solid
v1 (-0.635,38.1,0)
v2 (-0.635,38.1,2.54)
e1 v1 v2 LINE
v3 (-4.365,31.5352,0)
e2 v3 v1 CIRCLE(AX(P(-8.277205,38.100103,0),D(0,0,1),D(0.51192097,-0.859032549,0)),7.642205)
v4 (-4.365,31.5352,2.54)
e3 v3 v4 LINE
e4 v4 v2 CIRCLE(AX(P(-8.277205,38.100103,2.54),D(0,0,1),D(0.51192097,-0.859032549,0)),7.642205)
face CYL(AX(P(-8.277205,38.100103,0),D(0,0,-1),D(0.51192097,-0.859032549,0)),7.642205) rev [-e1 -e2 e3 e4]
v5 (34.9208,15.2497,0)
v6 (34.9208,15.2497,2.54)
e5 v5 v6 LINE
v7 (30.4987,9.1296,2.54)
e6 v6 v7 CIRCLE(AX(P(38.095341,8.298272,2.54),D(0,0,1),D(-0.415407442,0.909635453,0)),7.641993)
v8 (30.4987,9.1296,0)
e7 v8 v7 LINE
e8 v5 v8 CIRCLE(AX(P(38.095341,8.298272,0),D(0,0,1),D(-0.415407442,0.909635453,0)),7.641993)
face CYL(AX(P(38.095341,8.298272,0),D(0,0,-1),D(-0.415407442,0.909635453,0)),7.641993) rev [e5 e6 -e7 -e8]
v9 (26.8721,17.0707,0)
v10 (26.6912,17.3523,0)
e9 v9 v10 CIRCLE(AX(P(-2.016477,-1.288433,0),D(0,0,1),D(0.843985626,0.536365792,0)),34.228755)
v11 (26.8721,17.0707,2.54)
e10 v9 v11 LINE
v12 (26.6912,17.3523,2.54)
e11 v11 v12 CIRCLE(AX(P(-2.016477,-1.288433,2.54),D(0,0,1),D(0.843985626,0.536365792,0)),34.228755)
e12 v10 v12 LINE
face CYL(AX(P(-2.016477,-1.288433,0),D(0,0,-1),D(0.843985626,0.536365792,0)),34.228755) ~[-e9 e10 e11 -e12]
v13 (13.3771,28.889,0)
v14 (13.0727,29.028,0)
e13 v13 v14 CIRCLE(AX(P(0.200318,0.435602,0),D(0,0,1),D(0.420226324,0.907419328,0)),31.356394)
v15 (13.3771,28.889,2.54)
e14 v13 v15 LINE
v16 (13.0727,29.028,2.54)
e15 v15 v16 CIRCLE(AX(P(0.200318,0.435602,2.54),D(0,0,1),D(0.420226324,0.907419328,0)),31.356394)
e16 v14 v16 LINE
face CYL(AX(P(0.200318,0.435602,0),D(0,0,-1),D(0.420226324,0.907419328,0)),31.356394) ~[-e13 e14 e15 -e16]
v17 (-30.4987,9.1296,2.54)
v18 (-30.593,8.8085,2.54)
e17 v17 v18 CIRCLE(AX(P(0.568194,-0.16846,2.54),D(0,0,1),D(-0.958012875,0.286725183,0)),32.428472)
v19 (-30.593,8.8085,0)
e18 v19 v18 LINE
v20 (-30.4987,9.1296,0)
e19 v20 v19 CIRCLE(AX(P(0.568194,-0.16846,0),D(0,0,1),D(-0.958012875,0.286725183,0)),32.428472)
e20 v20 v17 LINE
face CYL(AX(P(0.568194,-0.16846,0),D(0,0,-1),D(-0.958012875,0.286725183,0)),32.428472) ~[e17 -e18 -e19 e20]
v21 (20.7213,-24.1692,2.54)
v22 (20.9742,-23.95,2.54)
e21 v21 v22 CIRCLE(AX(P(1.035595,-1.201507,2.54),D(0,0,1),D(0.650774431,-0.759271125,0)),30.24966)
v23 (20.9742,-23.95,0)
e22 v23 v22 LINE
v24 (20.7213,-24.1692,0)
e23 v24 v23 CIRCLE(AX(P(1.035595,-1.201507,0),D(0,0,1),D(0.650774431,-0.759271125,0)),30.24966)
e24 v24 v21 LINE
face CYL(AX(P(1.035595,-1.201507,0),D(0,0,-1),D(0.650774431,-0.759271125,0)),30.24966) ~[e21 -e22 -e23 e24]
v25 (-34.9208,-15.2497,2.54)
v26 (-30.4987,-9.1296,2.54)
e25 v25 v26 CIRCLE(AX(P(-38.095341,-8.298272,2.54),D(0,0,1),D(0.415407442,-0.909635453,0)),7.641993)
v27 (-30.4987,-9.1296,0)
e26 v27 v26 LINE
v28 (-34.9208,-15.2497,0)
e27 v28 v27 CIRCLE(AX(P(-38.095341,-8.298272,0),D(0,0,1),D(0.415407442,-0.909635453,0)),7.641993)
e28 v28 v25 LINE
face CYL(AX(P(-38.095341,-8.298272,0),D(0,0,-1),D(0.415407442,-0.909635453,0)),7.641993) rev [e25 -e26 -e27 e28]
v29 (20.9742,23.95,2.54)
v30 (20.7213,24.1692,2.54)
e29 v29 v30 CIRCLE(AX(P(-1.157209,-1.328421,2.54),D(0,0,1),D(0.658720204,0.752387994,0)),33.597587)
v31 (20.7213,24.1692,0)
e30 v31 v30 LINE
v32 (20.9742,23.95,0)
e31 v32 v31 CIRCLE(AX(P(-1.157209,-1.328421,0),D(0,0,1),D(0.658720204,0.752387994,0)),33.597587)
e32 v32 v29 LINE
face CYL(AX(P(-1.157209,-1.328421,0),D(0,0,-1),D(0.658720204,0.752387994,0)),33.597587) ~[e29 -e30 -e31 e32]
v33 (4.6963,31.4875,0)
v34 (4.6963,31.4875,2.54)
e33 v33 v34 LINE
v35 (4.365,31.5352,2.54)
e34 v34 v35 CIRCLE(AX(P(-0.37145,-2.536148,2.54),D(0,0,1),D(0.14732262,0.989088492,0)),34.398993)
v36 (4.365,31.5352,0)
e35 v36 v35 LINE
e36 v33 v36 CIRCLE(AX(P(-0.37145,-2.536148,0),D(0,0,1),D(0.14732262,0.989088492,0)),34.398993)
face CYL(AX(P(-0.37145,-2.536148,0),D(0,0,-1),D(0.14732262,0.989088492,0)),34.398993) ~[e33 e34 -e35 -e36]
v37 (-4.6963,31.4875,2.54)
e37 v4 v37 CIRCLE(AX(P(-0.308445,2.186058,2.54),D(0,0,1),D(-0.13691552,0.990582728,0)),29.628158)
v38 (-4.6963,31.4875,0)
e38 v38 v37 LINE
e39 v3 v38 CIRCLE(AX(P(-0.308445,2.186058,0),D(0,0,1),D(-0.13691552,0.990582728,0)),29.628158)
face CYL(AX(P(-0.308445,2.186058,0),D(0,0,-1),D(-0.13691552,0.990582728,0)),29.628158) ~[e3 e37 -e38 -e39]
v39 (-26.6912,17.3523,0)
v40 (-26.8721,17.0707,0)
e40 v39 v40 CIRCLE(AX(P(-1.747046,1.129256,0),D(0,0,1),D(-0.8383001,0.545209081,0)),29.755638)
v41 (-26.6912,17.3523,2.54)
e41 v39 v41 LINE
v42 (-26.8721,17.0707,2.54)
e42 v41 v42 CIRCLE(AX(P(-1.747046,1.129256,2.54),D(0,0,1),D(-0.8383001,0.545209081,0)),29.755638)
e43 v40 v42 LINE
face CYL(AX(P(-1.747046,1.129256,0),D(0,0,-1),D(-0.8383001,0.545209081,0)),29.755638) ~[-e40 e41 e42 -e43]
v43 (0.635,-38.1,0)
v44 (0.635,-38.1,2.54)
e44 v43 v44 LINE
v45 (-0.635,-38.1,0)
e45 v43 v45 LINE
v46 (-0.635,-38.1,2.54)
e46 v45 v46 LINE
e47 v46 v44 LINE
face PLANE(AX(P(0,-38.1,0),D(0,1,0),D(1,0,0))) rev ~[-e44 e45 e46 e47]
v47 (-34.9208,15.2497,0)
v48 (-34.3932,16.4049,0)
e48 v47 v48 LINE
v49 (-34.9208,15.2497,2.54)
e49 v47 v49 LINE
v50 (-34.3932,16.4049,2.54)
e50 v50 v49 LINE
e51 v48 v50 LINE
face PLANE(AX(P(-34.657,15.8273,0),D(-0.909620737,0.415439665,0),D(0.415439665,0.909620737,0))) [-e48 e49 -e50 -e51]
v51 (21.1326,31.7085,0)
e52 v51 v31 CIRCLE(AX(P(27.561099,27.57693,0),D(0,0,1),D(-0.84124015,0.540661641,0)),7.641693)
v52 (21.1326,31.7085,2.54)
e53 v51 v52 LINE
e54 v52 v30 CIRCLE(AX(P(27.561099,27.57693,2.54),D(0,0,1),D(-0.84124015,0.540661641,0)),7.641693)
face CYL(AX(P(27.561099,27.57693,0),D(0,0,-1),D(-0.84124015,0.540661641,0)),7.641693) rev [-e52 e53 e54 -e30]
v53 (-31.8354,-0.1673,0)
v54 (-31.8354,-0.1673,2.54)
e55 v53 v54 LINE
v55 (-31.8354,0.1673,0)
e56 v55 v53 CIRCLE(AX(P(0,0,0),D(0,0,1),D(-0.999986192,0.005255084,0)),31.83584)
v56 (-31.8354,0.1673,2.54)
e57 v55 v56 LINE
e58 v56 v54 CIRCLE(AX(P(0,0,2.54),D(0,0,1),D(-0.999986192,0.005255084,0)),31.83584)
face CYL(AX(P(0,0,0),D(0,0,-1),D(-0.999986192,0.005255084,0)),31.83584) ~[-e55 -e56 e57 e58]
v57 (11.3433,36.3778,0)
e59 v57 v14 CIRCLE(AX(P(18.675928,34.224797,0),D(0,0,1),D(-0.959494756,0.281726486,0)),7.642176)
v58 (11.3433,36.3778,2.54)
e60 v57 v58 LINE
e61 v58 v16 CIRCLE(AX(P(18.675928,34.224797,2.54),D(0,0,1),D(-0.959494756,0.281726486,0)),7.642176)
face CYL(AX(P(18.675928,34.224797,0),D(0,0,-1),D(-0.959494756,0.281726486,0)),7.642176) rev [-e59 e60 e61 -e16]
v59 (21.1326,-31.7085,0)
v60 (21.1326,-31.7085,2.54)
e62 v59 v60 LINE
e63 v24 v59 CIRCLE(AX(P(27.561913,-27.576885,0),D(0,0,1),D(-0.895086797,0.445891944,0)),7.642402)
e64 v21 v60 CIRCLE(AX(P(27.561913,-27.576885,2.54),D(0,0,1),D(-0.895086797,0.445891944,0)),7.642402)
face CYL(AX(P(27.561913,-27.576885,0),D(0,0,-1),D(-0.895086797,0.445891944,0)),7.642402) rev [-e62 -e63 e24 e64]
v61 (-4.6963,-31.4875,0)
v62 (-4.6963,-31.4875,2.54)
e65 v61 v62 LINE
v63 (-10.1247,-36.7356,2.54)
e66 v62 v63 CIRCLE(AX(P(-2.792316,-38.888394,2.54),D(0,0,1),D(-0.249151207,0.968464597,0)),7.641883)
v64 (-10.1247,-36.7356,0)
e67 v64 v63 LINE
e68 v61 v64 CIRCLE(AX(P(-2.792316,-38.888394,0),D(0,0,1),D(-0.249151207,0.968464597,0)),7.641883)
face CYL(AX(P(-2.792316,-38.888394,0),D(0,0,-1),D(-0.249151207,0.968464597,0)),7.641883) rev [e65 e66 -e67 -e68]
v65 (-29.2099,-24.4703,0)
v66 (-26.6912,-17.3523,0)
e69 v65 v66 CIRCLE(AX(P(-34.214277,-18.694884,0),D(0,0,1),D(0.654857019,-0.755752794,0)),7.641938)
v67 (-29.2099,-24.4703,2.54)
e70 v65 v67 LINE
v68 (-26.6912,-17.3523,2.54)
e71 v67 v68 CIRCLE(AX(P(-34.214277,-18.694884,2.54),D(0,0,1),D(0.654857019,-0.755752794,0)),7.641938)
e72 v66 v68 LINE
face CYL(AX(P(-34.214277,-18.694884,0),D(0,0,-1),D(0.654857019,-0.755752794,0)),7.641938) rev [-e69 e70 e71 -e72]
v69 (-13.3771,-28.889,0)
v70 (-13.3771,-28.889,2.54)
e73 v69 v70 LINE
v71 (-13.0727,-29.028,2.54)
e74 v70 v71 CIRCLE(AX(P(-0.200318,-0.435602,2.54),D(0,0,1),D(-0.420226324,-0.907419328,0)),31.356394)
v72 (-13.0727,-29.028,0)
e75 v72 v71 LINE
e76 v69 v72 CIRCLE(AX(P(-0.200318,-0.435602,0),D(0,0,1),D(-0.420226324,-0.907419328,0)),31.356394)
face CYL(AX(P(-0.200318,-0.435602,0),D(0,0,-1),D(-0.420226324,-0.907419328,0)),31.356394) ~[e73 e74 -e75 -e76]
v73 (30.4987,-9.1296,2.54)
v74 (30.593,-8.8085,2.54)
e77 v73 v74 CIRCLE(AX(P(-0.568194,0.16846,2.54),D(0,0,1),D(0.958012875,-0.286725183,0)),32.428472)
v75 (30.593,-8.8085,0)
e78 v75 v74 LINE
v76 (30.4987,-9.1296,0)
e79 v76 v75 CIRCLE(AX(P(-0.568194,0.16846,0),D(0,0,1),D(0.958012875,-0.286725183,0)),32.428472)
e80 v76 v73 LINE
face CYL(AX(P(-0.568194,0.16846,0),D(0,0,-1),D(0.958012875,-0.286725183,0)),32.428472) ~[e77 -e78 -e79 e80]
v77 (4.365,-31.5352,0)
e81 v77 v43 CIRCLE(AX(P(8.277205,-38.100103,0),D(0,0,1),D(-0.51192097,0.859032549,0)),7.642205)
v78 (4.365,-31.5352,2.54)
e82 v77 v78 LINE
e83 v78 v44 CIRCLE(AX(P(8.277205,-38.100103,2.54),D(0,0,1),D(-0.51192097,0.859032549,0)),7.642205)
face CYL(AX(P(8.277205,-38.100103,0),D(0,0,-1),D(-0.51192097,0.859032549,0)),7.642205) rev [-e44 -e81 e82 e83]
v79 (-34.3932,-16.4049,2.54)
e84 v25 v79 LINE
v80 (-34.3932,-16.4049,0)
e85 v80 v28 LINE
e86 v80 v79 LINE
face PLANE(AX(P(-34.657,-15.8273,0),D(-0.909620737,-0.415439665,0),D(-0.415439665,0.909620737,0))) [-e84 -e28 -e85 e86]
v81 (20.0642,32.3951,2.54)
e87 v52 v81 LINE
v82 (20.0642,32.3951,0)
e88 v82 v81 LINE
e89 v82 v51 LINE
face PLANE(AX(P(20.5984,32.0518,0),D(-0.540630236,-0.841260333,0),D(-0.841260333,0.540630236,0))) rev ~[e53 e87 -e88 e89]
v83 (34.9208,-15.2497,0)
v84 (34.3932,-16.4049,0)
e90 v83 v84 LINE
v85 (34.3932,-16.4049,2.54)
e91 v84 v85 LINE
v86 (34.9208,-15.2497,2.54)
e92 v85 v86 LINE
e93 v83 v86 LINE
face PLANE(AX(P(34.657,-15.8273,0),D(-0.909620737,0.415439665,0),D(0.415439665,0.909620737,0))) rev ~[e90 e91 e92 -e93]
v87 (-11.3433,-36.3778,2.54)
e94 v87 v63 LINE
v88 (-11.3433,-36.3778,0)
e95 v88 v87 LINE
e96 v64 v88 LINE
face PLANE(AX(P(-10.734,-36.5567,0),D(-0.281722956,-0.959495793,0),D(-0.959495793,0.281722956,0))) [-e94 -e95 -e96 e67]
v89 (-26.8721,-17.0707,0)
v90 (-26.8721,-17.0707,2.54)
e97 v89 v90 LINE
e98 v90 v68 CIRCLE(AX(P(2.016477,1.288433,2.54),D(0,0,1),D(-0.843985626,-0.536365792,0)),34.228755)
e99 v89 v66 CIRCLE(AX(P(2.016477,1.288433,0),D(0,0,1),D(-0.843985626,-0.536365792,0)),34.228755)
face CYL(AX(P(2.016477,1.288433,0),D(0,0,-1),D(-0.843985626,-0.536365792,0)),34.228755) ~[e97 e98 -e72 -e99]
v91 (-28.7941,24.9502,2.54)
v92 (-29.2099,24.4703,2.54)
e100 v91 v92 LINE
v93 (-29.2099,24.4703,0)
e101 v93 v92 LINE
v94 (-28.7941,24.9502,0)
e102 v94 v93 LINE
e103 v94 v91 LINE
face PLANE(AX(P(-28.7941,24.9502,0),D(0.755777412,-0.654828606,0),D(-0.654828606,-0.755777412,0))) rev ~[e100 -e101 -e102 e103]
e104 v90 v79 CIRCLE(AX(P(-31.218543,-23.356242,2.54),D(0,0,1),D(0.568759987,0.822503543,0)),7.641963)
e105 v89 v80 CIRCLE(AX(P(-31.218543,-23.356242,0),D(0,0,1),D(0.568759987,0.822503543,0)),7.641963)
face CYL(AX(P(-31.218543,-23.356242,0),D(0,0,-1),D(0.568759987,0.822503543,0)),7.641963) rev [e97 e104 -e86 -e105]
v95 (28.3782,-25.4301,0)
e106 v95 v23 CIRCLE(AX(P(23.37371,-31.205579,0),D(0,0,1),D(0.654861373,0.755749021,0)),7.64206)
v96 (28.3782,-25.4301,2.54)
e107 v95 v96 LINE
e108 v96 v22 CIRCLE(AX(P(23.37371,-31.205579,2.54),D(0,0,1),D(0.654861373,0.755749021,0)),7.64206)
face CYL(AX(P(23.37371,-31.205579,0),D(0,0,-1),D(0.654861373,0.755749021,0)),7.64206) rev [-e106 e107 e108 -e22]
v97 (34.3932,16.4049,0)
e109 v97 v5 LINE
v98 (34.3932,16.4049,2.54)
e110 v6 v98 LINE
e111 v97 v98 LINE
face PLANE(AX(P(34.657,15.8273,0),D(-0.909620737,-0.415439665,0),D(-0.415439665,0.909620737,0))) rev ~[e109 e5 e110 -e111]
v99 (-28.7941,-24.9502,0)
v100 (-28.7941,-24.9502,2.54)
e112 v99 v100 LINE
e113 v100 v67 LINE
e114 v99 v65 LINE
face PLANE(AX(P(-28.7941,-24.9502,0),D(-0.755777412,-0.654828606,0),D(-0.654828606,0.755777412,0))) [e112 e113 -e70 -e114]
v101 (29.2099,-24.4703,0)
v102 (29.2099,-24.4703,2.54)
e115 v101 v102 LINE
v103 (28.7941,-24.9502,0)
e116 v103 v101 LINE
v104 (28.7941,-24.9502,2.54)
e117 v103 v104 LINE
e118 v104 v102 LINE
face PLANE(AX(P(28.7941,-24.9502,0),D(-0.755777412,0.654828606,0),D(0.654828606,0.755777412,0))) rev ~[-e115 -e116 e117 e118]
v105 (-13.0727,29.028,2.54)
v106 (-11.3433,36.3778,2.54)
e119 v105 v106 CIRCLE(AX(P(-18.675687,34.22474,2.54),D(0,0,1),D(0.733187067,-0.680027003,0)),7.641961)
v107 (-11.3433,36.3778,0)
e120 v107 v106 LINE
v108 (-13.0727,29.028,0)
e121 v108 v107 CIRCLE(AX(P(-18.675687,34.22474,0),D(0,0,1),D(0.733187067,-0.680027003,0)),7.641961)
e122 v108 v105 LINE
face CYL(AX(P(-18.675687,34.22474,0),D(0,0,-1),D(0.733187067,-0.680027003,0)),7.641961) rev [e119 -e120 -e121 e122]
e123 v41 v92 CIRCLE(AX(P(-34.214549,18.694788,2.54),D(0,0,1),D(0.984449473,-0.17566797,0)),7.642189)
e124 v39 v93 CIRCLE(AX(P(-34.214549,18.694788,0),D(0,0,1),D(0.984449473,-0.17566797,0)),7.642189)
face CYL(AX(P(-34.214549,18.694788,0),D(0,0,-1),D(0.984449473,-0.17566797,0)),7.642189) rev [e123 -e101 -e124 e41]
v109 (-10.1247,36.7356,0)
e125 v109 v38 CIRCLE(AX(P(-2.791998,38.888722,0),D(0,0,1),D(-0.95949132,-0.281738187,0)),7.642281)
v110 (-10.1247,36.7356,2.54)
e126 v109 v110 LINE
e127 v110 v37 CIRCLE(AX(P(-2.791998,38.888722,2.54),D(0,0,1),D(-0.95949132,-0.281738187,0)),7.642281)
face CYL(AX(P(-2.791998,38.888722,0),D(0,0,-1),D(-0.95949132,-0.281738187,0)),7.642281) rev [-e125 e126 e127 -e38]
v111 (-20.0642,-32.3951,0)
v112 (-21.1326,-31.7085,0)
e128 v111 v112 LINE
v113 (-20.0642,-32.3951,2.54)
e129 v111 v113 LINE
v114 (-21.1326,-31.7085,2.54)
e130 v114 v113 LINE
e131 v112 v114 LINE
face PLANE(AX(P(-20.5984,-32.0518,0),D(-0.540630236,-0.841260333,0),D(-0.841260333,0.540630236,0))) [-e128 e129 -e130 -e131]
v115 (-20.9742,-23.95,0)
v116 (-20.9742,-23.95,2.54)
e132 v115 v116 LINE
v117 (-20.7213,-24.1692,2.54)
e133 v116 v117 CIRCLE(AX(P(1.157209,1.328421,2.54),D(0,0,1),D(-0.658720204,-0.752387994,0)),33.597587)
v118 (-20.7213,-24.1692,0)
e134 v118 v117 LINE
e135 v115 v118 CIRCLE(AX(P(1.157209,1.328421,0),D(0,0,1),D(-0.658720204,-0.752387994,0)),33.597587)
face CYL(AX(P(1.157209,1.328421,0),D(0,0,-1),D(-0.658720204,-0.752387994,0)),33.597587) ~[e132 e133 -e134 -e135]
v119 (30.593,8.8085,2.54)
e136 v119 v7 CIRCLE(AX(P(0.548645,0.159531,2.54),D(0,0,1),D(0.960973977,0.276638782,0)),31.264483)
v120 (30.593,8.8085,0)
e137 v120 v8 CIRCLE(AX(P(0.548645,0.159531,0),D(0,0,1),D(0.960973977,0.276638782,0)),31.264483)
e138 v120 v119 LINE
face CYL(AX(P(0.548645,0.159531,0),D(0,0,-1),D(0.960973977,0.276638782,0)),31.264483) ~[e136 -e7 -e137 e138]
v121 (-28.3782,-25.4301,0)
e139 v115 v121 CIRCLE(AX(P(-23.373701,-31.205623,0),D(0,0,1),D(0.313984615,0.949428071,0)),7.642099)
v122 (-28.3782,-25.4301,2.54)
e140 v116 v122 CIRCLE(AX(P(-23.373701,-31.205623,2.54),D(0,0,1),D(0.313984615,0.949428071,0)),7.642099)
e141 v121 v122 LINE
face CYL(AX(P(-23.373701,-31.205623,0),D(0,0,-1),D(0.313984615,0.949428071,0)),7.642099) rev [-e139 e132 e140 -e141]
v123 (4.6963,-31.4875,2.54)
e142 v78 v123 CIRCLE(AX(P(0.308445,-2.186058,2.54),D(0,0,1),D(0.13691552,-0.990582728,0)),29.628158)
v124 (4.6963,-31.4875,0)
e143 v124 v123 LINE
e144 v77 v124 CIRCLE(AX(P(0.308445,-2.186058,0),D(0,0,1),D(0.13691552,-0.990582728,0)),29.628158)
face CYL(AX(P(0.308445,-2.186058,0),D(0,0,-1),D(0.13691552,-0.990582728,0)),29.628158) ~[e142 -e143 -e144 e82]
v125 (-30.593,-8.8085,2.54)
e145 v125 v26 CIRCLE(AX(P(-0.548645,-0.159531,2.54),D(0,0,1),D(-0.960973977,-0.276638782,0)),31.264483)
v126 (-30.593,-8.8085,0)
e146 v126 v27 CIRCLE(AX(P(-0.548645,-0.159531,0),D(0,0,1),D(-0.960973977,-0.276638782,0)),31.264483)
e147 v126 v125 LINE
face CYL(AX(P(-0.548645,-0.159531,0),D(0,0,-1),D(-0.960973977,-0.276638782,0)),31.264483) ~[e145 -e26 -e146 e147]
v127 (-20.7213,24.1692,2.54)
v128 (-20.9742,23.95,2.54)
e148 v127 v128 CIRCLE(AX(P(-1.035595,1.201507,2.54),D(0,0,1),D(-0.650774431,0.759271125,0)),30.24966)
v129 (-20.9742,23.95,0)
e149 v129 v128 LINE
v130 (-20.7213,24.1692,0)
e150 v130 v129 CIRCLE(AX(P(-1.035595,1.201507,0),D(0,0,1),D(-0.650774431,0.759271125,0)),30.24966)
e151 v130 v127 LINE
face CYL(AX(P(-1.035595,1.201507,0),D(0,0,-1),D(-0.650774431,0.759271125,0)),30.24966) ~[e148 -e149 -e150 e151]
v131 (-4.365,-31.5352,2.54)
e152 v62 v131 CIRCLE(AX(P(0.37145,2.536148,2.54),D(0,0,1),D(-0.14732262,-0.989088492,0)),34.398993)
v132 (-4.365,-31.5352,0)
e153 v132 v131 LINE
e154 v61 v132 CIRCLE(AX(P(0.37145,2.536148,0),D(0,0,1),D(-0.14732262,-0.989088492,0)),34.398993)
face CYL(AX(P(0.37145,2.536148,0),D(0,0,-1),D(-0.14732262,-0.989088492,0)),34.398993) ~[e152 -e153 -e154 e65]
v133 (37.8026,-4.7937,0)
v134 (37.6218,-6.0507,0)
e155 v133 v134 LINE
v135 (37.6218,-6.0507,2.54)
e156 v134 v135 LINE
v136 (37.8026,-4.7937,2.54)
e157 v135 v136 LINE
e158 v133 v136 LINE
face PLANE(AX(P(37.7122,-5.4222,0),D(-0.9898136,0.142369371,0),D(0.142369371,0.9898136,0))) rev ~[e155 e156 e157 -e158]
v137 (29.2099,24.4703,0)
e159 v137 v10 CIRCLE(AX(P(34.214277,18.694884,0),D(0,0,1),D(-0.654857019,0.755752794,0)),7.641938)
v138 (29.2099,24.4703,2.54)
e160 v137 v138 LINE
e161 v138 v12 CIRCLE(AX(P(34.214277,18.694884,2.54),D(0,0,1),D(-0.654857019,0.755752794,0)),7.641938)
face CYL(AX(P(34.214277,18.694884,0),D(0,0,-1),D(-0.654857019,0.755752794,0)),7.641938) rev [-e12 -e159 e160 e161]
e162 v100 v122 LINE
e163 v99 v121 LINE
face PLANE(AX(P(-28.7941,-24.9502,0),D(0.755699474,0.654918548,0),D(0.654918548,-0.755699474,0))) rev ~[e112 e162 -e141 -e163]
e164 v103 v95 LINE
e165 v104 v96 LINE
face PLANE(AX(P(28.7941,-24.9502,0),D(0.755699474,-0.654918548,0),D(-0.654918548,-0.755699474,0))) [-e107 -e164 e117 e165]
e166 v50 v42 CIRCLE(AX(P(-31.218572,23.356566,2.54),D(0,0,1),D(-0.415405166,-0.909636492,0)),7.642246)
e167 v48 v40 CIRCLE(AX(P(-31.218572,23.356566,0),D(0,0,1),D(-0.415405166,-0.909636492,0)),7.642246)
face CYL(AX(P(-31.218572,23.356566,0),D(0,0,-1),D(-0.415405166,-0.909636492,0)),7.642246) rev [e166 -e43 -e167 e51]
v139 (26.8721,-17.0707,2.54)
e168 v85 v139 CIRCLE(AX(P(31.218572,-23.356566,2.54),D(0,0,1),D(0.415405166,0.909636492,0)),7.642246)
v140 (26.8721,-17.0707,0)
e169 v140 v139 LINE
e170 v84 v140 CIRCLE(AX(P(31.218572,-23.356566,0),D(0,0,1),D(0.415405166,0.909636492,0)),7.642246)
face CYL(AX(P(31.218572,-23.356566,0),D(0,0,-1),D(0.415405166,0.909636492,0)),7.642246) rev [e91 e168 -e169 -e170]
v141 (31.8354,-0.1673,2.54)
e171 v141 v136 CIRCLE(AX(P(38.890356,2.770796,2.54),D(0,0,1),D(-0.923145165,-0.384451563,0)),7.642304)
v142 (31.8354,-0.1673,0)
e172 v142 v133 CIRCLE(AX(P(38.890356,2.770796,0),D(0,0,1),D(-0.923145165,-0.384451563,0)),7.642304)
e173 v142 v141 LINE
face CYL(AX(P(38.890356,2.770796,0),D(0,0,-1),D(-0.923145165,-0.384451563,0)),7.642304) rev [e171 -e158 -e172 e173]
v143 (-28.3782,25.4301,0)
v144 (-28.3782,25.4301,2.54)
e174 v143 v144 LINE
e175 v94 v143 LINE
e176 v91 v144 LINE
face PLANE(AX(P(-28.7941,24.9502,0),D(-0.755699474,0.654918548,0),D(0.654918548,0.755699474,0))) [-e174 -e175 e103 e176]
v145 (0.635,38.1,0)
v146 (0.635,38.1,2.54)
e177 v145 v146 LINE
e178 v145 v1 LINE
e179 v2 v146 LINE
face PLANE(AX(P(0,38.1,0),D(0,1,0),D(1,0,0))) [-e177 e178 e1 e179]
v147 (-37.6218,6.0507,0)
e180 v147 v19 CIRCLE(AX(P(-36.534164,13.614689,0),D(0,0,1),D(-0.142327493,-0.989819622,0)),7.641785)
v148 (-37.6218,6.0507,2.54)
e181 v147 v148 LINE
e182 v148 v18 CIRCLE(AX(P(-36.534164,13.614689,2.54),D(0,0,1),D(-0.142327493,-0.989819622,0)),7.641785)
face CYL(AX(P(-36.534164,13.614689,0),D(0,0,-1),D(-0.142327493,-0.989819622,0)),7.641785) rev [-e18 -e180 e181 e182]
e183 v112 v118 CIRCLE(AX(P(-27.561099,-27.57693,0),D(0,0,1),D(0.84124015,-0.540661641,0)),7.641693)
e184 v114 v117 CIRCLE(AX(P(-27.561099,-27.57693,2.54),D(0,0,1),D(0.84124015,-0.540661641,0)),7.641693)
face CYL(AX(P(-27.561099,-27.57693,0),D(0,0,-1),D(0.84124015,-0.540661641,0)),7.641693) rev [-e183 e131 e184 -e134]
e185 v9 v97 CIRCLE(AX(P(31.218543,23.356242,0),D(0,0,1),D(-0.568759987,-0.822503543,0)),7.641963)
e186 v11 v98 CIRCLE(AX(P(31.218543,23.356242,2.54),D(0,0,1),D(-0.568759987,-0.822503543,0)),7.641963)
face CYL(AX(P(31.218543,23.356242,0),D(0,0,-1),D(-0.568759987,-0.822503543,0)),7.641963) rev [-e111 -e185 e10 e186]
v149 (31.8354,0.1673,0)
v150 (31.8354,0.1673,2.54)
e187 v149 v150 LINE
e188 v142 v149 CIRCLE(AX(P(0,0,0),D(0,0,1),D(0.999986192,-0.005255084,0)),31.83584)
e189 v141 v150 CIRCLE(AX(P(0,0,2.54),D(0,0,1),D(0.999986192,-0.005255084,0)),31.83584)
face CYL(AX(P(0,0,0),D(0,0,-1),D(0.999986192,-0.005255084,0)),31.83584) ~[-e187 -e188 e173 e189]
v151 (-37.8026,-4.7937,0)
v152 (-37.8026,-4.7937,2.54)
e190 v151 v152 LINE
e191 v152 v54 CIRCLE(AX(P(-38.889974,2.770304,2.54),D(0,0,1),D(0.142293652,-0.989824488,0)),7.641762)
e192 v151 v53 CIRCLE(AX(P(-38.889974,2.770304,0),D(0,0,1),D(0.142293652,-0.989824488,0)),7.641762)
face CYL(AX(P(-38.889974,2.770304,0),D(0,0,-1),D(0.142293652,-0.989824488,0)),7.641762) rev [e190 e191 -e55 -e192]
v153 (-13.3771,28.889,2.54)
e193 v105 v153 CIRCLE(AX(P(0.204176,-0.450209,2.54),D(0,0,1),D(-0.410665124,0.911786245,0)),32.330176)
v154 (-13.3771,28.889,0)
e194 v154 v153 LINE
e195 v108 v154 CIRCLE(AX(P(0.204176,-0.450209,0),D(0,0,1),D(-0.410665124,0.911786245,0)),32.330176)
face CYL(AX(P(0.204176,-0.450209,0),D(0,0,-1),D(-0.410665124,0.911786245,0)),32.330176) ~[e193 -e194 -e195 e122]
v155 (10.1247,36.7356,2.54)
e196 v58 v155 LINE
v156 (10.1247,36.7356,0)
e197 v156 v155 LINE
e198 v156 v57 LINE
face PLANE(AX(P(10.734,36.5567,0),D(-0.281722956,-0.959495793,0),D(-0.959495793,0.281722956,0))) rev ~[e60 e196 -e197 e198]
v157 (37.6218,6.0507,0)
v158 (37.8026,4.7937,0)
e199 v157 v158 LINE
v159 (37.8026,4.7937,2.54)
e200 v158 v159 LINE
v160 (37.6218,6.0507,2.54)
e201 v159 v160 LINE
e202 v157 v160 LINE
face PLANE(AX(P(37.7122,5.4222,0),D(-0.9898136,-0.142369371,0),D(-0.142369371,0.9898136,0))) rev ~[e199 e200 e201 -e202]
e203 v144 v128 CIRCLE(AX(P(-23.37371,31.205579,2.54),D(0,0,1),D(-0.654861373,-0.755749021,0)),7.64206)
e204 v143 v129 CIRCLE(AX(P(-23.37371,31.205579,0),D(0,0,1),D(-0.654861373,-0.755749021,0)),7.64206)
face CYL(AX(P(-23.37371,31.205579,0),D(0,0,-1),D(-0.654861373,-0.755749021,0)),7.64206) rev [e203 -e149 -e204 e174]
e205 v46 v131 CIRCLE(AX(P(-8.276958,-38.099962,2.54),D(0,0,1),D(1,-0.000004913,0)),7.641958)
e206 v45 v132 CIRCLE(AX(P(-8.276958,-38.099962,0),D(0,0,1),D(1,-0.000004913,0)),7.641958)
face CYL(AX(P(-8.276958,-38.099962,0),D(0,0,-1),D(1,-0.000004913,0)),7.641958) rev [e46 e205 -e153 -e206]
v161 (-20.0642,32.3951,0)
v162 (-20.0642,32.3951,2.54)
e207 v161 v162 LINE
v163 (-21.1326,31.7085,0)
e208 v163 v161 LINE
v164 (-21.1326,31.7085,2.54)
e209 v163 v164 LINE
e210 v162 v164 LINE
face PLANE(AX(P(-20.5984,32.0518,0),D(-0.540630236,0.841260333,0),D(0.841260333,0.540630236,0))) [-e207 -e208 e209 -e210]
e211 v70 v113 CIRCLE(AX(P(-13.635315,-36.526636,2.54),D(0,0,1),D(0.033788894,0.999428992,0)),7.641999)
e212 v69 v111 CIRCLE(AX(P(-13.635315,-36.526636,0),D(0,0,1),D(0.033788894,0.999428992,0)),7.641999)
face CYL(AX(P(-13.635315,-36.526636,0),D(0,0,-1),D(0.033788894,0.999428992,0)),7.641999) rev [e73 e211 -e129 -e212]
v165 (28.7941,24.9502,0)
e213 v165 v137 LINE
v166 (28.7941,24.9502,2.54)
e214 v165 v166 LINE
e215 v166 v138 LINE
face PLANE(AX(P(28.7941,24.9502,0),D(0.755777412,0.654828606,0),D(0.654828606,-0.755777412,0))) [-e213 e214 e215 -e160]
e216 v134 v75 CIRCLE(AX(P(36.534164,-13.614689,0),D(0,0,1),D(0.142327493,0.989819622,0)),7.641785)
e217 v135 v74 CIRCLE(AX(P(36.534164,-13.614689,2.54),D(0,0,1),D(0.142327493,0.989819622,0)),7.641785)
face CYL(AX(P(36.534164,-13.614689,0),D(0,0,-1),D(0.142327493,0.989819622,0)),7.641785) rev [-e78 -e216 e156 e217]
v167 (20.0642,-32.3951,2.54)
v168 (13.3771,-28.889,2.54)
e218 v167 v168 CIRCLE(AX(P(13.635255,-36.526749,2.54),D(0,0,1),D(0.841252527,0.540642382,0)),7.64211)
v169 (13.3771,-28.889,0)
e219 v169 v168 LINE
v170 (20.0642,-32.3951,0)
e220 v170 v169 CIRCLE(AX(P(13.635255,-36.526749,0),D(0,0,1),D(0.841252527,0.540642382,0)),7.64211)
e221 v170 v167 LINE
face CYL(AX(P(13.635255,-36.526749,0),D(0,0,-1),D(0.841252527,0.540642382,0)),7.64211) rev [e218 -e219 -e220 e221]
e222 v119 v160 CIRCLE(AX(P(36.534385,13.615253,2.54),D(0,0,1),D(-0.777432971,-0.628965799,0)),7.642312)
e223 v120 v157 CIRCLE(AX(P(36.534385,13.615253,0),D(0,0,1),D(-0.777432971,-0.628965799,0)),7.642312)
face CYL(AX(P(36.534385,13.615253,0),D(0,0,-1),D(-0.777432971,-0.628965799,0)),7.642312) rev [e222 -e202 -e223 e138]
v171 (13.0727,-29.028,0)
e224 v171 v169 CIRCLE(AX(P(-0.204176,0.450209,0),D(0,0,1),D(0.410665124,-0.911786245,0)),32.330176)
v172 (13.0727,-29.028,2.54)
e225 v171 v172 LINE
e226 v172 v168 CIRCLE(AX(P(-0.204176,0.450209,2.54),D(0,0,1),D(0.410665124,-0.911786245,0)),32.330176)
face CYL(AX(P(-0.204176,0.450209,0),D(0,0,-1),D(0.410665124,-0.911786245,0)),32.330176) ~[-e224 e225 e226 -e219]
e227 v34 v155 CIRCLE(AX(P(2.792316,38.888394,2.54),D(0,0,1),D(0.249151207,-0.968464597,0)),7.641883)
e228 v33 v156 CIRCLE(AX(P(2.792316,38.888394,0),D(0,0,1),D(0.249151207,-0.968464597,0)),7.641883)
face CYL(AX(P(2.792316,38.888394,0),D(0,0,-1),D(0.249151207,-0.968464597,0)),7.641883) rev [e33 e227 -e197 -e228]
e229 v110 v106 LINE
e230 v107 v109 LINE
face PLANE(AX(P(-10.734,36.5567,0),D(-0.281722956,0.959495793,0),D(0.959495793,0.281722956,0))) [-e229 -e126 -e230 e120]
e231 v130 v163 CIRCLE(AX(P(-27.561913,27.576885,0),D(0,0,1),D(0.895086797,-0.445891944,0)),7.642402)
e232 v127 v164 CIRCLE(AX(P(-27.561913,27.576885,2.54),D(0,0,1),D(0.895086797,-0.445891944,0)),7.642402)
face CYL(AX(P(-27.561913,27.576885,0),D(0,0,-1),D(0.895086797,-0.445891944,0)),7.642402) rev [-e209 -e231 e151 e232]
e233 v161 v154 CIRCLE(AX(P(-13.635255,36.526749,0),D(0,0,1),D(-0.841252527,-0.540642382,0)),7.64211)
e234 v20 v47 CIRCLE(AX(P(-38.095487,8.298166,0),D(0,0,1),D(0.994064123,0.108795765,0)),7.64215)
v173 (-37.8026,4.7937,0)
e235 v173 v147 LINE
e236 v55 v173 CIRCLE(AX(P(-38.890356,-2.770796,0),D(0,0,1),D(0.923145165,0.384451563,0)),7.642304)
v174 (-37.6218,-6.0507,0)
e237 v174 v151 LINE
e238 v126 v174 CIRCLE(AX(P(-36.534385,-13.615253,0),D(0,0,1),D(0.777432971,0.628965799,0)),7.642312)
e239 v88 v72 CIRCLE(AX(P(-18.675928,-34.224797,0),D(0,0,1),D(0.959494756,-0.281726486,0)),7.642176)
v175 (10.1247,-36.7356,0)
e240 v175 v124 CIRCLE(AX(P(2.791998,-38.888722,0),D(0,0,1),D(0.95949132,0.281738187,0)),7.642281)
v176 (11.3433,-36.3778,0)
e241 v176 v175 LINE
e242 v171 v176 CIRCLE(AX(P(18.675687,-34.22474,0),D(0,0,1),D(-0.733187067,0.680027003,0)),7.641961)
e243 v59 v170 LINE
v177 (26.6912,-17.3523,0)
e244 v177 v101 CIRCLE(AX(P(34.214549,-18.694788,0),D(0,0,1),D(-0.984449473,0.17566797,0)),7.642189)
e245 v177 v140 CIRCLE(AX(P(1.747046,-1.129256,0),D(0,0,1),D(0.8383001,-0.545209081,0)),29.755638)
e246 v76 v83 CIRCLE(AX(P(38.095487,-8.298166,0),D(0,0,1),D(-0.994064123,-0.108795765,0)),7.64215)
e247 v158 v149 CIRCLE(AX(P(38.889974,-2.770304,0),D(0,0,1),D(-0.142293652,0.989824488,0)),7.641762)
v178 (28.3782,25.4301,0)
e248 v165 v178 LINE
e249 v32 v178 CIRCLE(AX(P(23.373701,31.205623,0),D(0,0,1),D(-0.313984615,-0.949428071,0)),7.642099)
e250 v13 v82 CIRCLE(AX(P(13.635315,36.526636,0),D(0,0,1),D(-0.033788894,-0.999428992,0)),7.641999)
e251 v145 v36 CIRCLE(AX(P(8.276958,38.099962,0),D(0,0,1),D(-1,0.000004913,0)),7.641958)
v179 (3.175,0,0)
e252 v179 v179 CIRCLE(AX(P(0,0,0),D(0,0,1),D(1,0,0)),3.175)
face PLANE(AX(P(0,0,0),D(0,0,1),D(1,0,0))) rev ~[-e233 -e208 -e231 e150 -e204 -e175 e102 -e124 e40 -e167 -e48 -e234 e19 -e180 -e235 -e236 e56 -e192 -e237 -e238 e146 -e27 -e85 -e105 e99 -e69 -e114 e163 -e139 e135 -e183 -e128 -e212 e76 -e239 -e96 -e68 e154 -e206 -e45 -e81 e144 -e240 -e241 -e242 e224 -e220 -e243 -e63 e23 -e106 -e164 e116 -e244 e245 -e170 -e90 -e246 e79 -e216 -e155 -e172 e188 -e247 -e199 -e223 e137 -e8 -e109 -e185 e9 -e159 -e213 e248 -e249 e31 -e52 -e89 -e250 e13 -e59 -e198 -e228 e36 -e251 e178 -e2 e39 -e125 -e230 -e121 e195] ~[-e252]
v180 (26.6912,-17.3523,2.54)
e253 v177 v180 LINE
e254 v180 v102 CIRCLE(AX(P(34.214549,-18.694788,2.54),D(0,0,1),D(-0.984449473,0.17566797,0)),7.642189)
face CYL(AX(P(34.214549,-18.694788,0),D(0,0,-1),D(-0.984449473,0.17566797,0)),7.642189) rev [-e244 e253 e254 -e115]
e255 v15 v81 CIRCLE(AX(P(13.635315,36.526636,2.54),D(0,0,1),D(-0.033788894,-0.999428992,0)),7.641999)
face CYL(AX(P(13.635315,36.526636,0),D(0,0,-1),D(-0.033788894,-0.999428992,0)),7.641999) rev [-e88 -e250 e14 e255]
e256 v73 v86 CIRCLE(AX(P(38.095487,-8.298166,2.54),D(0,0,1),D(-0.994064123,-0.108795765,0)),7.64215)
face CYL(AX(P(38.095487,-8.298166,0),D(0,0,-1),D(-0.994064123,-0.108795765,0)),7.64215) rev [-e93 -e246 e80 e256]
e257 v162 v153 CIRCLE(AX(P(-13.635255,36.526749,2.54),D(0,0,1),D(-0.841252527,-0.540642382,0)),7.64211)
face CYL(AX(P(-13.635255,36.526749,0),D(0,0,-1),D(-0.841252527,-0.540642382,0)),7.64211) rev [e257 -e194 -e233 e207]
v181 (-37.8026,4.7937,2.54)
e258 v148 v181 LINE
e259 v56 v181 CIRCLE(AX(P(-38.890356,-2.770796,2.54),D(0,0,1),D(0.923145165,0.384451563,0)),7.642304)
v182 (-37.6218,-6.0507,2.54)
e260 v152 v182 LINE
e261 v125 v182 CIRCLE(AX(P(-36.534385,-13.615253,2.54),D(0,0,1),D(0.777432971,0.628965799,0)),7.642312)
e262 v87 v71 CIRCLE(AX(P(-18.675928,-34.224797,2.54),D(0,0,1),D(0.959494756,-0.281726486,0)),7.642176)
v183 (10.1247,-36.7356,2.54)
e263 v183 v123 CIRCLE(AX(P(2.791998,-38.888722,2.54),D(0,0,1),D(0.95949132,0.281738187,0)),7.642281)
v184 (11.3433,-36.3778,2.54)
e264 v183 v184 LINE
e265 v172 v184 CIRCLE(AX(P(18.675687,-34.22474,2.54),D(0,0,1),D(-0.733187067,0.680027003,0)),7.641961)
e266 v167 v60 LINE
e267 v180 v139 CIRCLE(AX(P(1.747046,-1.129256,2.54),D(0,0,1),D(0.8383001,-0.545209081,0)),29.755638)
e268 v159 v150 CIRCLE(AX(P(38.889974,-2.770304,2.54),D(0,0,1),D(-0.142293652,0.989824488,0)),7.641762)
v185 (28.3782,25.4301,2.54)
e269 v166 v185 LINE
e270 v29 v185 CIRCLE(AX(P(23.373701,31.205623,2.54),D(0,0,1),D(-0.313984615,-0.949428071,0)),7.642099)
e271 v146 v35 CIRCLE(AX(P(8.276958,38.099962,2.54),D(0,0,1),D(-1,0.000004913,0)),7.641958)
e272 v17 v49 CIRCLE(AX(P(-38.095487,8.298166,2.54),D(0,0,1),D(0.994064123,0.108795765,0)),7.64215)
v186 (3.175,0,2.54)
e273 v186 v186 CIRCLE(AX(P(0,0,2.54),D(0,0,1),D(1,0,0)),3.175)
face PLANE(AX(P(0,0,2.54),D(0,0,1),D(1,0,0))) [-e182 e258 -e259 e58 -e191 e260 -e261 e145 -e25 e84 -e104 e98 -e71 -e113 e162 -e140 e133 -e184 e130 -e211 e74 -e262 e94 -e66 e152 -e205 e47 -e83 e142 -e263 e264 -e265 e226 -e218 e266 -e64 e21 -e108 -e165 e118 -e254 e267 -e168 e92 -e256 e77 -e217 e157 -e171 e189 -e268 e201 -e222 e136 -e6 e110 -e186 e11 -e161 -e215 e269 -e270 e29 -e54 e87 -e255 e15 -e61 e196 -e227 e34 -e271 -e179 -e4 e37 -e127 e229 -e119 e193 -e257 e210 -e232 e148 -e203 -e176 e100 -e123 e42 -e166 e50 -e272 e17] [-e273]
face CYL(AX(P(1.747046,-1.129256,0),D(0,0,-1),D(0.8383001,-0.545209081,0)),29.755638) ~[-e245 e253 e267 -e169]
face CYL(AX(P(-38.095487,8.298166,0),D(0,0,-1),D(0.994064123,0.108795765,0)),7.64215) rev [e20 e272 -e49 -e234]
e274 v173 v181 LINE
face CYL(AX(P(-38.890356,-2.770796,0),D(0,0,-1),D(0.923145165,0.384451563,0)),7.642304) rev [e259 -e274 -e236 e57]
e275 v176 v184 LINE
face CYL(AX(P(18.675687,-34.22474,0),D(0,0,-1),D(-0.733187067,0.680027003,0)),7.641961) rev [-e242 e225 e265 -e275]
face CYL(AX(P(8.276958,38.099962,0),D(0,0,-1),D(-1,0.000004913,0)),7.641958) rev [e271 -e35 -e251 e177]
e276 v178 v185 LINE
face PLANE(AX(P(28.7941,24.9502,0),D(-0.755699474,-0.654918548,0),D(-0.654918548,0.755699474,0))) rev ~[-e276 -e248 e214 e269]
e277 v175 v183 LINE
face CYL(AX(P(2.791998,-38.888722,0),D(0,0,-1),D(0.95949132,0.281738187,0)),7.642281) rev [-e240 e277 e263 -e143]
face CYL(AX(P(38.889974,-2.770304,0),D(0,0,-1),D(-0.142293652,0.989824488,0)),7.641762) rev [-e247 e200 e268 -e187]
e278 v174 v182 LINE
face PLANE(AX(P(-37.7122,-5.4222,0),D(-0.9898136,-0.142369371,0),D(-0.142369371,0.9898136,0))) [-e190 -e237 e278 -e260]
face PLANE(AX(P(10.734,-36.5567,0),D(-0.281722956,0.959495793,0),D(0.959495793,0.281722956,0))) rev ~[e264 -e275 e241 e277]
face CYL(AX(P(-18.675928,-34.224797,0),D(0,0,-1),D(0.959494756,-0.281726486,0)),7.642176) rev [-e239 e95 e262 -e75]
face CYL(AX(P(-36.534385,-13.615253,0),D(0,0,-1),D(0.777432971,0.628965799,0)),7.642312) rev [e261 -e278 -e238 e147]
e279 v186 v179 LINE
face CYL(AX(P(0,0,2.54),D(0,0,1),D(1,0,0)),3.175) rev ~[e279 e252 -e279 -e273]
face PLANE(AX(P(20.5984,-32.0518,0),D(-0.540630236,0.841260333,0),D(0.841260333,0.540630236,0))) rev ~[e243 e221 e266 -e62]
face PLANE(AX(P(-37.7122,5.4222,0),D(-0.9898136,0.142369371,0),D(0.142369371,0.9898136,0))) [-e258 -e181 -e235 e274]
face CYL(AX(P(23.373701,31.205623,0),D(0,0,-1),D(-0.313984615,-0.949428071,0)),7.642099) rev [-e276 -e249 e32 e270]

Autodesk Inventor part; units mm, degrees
ref_plane "YZ Plane" through (0, 0, 0) normal (1, 0, 0) x (0, 1, 0)
ref_plane "XZ Plane" through (0, 0, 0) normal (0, 1, 0) x (-1, 0, 0)
ref_plane "XY Plane" through (0, 0, 0) normal (0, 0, 1) x (1, 0, 0)
sketch "Sketch1" plane through (0, 0, 0) normal (0, 0, 1) x (1, 0, 0)
  line L0 (0, 0) -> (0, 38.1) construction
  line L1 (0, 38.1) -> (0.635, 38.1)
  line L2 (0, 38.1) -> (-0.635, 38.1)
  line L3 (0.635, 38.1) -> (4.365, 38.1) construction
  line L4 (4.365, 38.1) -> (4.365, 31.5352) construction
  arc A0 (0.635, 38.1) -> (4.365, 31.5352) centre (8.2771, 38.1) ccw
  line L5 (-0.635, 38.1) -> (-4.365, 38.1) construction
  line L6 (-4.365, 38.1) -> (-4.365, 31.5352) construction
  arc A1 (-4.365, 31.5352) -> (-0.635, 38.1) centre (-8.2771, 38.1) ccw
  line L7 (-10.734, 36.5567) -> (-11.3433, 36.3778)
  line L8 (-10.734, 36.5567) -> (-10.1247, 36.7356)
  arc A2 (-10.1247, 36.7356) -> (-4.6963, 31.4875) centre (-2.7922, 38.8886) ccw
  arc A3 (-13.0727, 29.028) -> (-11.3433, 36.3778) centre (-18.6758, 34.2248) ccw
  line L9 (-20.5984, 32.0518) -> (-21.1326, 31.7085)
  line L10 (-20.5984, 32.0518) -> (-20.0642, 32.3951)
  arc A4 (-20.0642, 32.3951) -> (-13.3771, 28.889) centre (-13.6353, 36.5267) ccw
  arc A5 (-20.7213, 24.1692) -> (-21.1326, 31.7085) centre (-27.5615, 27.5768) ccw
  line L11 (-28.7941, 24.9502) -> (-29.2099, 24.4703)
  line L12 (-28.7941, 24.9502) -> (-28.3782, 25.4301)
  arc A6 (-28.3782, 25.4301) -> (-20.9742, 23.95) centre (-23.3737, 31.2056) ccw
  arc A7 (-26.6912, 17.3523) -> (-29.2099, 24.4703) centre (-34.2144, 18.6948) ccw
  line L13 (-34.657, 15.8273) -> (-34.9208, 15.2497)
  line L14 (-34.657, 15.8273) -> (-34.3932, 16.4049)
  arc A8 (-34.3932, 16.4049) -> (-26.8721, 17.0707) centre (-31.2186, 23.3564) ccw
  arc A9 (-30.4987, 9.1296) -> (-34.9208, 15.2497) centre (-38.0954, 8.2982) ccw
  line L15 (-37.7122, 5.4222) -> (-37.8026, 4.7937)
  line L16 (-37.7122, 5.4222) -> (-37.6218, 6.0507)
  arc A10 (-37.6218, 6.0507) -> (-30.593, 8.8085) centre (-36.5342, 13.615) ccw
  arc A11 (-31.8354, 0.1673) -> (-37.8026, 4.7937) centre (-38.8901, -2.7706) ccw
  line L17 (-37.7122, -5.4222) -> (-37.6218, -6.0507)
  line L18 (-37.7122, -5.4222) -> (-37.8026, -4.7937)
  arc A12 (-37.8026, -4.7937) -> (-31.8354, -0.1673) centre (-38.8901, 2.7706) ccw
  arc A13 (-30.593, -8.8085) -> (-37.6218, -6.0507) centre (-36.5342, -13.615) ccw
  line L19 (-34.657, -15.8273) -> (-34.3932, -16.4049)
  line L20 (-34.657, -15.8273) -> (-34.9208, -15.2497)
  arc A14 (-34.9208, -15.2497) -> (-30.4987, -9.1296) centre (-38.0954, -8.2982) ccw
  arc A15 (-26.8721, -17.0707) -> (-34.3932, -16.4049) centre (-31.2186, -23.3564) ccw
  line L21 (-28.7941, -24.9502) -> (-28.3782, -25.4301)
  line L22 (-28.7941, -24.9502) -> (-29.2099, -24.4703)
  arc A16 (-29.2099, -24.4703) -> (-26.6912, -17.3523) centre (-34.2144, -18.6948) ccw
  arc A17 (-20.9742, -23.95) -> (-28.3782, -25.4301) centre (-23.3737, -31.2056) ccw
  line L23 (-20.5984, -32.0518) -> (-20.0642, -32.3951)
  line L24 (-20.5984, -32.0518) -> (-21.1326, -31.7085)
  arc A18 (-21.1326, -31.7085) -> (-20.7213, -24.1692) centre (-27.5615, -27.5768) ccw
  arc A19 (-13.3771, -28.889) -> (-20.0642, -32.3951) centre (-13.6353, -36.5267) ccw
  line L25 (-10.734, -36.5567) -> (-10.1247, -36.7356)
  line L26 (-10.734, -36.5567) -> (-11.3433, -36.3778)
  arc A20 (-11.3433, -36.3778) -> (-13.0727, -29.028) centre (-18.6758, -34.2248) ccw
  arc A21 (-4.6963, -31.4875) -> (-10.1247, -36.7356) centre (-2.7922, -38.8886) ccw
  line L27 (0, -38.1) -> (0.635, -38.1)
  line L28 (0, -38.1) -> (-0.635, -38.1)
  arc A22 (-0.635, -38.1) -> (-4.365, -31.5352) centre (-8.2771, -38.1) ccw
  arc A23 (4.365, -31.5352) -> (0.635, -38.1) centre (8.2771, -38.1) ccw
  line L29 (10.734, -36.5567) -> (11.3433, -36.3778)
  line L30 (10.734, -36.5567) -> (10.1247, -36.7356)
  arc A24 (10.1247, -36.7356) -> (4.6963, -31.4875) centre (2.7922, -38.8886) ccw
  arc A25 (13.0727, -29.028) -> (11.3433, -36.3778) centre (18.6758, -34.2248) ccw
  line L31 (20.5984, -32.0518) -> (21.1326, -31.7085)
  line L32 (20.5984, -32.0518) -> (20.0642, -32.3951)
  arc A26 (20.0642, -32.3951) -> (13.3771, -28.889) centre (13.6353, -36.5267) ccw
  arc A27 (20.7213, -24.1692) -> (21.1326, -31.7085) centre (27.5615, -27.5768) ccw
  line L33 (28.7941, -24.9502) -> (29.2099, -24.4703)
  line L34 (28.7941, -24.9502) -> (28.3782, -25.4301)
  arc A28 (28.3782, -25.4301) -> (20.9742, -23.95) centre (23.3737, -31.2056) ccw
  arc A29 (26.6912, -17.3523) -> (29.2099, -24.4703) centre (34.2144, -18.6948) ccw
  line L35 (34.657, -15.8273) -> (34.9208, -15.2497)
  line L36 (34.657, -15.8273) -> (34.3932, -16.4049)
  arc A30 (34.3932, -16.4049) -> (26.8721, -17.0707) centre (31.2186, -23.3564) ccw
  arc A31 (30.4987, -9.1296) -> (34.9208, -15.2497) centre (38.0954, -8.2982) ccw
  line L37 (37.7122, -5.4222) -> (37.8026, -4.7937)
  line L38 (37.7122, -5.4222) -> (37.6218, -6.0507)
  arc A32 (37.6218, -6.0507) -> (30.593, -8.8085) centre (36.5342, -13.615) ccw
  arc A33 (31.8354, -0.1673) -> (37.8026, -4.7937) centre (38.8901, 2.7706) ccw
  line L39 (37.7122, 5.4222) -> (37.6218, 6.0507)
  line L40 (37.7122, 5.4222) -> (37.8026, 4.7937)
  arc A34 (37.8026, 4.7937) -> (31.8354, 0.1673) centre (38.8901, -2.7706) ccw
  arc A35 (30.593, 8.8085) -> (37.6218, 6.0507) centre (36.5342, 13.615) ccw
  line L41 (34.657, 15.8273) -> (34.3932, 16.4049)
  line L42 (34.657, 15.8273) -> (34.9208, 15.2497)
  arc A36 (34.9208, 15.2497) -> (30.4987, 9.1296) centre (38.0954, 8.2982) ccw
  arc A37 (26.8721, 17.0707) -> (34.3932, 16.4049) centre (31.2186, 23.3564) ccw
  line L43 (28.7941, 24.9502) -> (28.3782, 25.4301)
  line L44 (28.7941, 24.9502) -> (29.2099, 24.4703)
  arc A38 (29.2099, 24.4703) -> (26.6912, 17.3523) centre (34.2144, 18.6948) ccw
  arc A39 (20.9742, 23.95) -> (28.3782, 25.4301) centre (23.3737, 31.2056) ccw
  line L45 (20.5984, 32.0518) -> (20.0642, 32.3951)
  line L46 (20.5984, 32.0518) -> (21.1326, 31.7085)
  arc A40 (21.1326, 31.7085) -> (20.7213, 24.1692) centre (27.5615, 27.5768) ccw
  arc A41 (13.3771, 28.889) -> (20.0642, 32.3951) centre (13.6353, 36.5267) ccw
  arc A42 (-4.365, 31.5352) -> (-4.6963, 31.4875) centre (0, 0) ccw
  arc A43 (-13.0727, 29.028) -> (-13.3771, 28.889) centre (0, 0) ccw
  arc A44 (-20.7213, 24.1692) -> (-20.9742, 23.95) centre (0, 0) ccw
  arc A45 (-26.6912, 17.3523) -> (-26.8721, 17.0707) centre (0, 0) ccw
  arc A46 (-30.4987, 9.1296) -> (-30.593, 8.8085) centre (0, 0) ccw
  arc A47 (-31.8354, 0.1673) -> (-31.8354, -0.1673) centre (0, 0) ccw
  arc A48 (-30.593, -8.8085) -> (-30.4987, -9.1296) centre (0, 0) ccw
  arc A49 (-26.8721, -17.0707) -> (-26.6912, -17.3523) centre (0, 0) ccw
  arc A50 (-20.9742, -23.95) -> (-20.7213, -24.1692) centre (0, 0) ccw
  arc A51 (-13.3771, -28.889) -> (-13.0727, -29.028) centre (0, 0) ccw
  arc A52 (-4.6963, -31.4875) -> (-4.365, -31.5352) centre (0, 0) ccw
  arc A53 (4.365, -31.5352) -> (4.6963, -31.4875) centre (0, 0) ccw
  arc A54 (13.0727, -29.028) -> (13.3771, -28.889) centre (0, 0) ccw
  arc A55 (20.7213, -24.1692) -> (20.9742, -23.95) centre (0, 0) ccw
  arc A56 (26.6912, -17.3523) -> (26.8721, -17.0707) centre (0, 0) ccw
  arc A57 (30.4987, -9.1296) -> (30.593, -8.8085) centre (0, 0) ccw
  arc A58 (31.8354, -0.1673) -> (31.8354, 0.1673) centre (0, 0) ccw
  arc A59 (30.593, 8.8085) -> (30.4987, 9.1296) centre (0, 0) ccw
  arc A60 (26.8721, 17.0707) -> (26.6912, 17.3523) centre (0, 0) ccw
  arc A61 (20.9742, 23.95) -> (20.7213, 24.1692) centre (0, 0) ccw
  line L47 (10.734, 36.5567) -> (10.1247, 36.7356)
  line L48 (10.734, 36.5567) -> (11.3433, 36.3778)
  arc A62 (11.3433, 36.3778) -> (13.0727, 29.028) centre (18.6758, 34.2248) ccw
  arc A63 (4.6963, 31.4875) -> (10.1247, 36.7356) centre (2.7922, 38.8886) ccw
  arc A64 (4.6963, 31.4875) -> (4.365, 31.5352) centre (0, 0) ccw
  arc A65 (13.3771, 28.889) -> (13.0727, 29.028) centre (0, 0) ccw
  arc A66 (20.9742, 23.95) -> (20.7213, 24.1692) centre (0, 0) ccw
  arc A67 (26.8721, 17.0707) -> (26.6912, 17.3523) centre (0, 0) ccw
  arc A68 (30.593, 8.8085) -> (30.4987, 9.1296) centre (0, 0) ccw
  arc A69 (31.8354, -0.1673) -> (31.8354, 0.1673) centre (0, 0) ccw
  arc A70 (30.4987, -9.1296) -> (30.593, -8.8085) centre (0, 0) ccw
  arc A71 (26.6912, -17.3523) -> (26.8721, -17.0707) centre (0, 0) ccw
  arc A72 (20.7213, -24.1692) -> (20.9742, -23.95) centre (0, 0) ccw
  arc A73 (13.0727, -29.028) -> (13.3771, -28.889) centre (0, 0) ccw
  arc A74 (4.365, -31.5352) -> (4.6963, -31.4875) centre (0, 0) ccw
  arc A75 (-4.6963, -31.4875) -> (-4.365, -31.5352) centre (0, 0) ccw
  arc A76 (-20.9742, -23.95) -> (-20.7213, -24.1692) centre (0, 0) ccw
  arc A77 (-13.3771, -28.889) -> (-13.0727, -29.028) centre (0, 0) ccw
  arc A78 (-26.8721, -17.0707) -> (-26.6912, -17.3523) centre (0, 0) ccw
  arc A79 (-30.593, -8.8085) -> (-30.4987, -9.1296) centre (0, 0) ccw
  arc A80 (-31.8354, 0.1673) -> (-31.8354, -0.1673) centre (0, 0) ccw
  arc A81 (-30.4987, 9.1296) -> (-30.593, 8.8085) centre (0, 0) ccw
  arc A82 (-26.6912, 17.3523) -> (-26.8721, 17.0707) centre (0, 0) ccw
  arc A83 (-20.7213, 24.1692) -> (-20.9742, 23.95) centre (0, 0) ccw
  arc A84 (-4.365, 31.5352) -> (-4.6963, 31.4875) centre (0, 0) ccw
  arc A85 (-13.0727, 29.028) -> (-13.3771, 28.889) centre (0, 0) ccw
  circle A86 centre (0, 0) radius 31.8358 construction
  dimension "d15" = 63.6716
  dimension "d2" = 38.1
  dimension "d3" = 0.635
  dimension "d4" = 0.635
  dimension "d5" = 3.73
  dimension "d8" = 360
extrude "Extrusion1" add sketch "Sketch1" along normal blind 2.54
sketch "Sketch2" plane through (0, 0, 2.54) normal (0, 0, 1) x (1, 0, 0)
  circle A0 centre (0, 0) radius 3.175
  dimension "d12" = 6.35
extrude "Extrusion2" cut sketch "Sketch2" against normal blind 25.4
properties part number "Sprocket Chain Positioning 1"
